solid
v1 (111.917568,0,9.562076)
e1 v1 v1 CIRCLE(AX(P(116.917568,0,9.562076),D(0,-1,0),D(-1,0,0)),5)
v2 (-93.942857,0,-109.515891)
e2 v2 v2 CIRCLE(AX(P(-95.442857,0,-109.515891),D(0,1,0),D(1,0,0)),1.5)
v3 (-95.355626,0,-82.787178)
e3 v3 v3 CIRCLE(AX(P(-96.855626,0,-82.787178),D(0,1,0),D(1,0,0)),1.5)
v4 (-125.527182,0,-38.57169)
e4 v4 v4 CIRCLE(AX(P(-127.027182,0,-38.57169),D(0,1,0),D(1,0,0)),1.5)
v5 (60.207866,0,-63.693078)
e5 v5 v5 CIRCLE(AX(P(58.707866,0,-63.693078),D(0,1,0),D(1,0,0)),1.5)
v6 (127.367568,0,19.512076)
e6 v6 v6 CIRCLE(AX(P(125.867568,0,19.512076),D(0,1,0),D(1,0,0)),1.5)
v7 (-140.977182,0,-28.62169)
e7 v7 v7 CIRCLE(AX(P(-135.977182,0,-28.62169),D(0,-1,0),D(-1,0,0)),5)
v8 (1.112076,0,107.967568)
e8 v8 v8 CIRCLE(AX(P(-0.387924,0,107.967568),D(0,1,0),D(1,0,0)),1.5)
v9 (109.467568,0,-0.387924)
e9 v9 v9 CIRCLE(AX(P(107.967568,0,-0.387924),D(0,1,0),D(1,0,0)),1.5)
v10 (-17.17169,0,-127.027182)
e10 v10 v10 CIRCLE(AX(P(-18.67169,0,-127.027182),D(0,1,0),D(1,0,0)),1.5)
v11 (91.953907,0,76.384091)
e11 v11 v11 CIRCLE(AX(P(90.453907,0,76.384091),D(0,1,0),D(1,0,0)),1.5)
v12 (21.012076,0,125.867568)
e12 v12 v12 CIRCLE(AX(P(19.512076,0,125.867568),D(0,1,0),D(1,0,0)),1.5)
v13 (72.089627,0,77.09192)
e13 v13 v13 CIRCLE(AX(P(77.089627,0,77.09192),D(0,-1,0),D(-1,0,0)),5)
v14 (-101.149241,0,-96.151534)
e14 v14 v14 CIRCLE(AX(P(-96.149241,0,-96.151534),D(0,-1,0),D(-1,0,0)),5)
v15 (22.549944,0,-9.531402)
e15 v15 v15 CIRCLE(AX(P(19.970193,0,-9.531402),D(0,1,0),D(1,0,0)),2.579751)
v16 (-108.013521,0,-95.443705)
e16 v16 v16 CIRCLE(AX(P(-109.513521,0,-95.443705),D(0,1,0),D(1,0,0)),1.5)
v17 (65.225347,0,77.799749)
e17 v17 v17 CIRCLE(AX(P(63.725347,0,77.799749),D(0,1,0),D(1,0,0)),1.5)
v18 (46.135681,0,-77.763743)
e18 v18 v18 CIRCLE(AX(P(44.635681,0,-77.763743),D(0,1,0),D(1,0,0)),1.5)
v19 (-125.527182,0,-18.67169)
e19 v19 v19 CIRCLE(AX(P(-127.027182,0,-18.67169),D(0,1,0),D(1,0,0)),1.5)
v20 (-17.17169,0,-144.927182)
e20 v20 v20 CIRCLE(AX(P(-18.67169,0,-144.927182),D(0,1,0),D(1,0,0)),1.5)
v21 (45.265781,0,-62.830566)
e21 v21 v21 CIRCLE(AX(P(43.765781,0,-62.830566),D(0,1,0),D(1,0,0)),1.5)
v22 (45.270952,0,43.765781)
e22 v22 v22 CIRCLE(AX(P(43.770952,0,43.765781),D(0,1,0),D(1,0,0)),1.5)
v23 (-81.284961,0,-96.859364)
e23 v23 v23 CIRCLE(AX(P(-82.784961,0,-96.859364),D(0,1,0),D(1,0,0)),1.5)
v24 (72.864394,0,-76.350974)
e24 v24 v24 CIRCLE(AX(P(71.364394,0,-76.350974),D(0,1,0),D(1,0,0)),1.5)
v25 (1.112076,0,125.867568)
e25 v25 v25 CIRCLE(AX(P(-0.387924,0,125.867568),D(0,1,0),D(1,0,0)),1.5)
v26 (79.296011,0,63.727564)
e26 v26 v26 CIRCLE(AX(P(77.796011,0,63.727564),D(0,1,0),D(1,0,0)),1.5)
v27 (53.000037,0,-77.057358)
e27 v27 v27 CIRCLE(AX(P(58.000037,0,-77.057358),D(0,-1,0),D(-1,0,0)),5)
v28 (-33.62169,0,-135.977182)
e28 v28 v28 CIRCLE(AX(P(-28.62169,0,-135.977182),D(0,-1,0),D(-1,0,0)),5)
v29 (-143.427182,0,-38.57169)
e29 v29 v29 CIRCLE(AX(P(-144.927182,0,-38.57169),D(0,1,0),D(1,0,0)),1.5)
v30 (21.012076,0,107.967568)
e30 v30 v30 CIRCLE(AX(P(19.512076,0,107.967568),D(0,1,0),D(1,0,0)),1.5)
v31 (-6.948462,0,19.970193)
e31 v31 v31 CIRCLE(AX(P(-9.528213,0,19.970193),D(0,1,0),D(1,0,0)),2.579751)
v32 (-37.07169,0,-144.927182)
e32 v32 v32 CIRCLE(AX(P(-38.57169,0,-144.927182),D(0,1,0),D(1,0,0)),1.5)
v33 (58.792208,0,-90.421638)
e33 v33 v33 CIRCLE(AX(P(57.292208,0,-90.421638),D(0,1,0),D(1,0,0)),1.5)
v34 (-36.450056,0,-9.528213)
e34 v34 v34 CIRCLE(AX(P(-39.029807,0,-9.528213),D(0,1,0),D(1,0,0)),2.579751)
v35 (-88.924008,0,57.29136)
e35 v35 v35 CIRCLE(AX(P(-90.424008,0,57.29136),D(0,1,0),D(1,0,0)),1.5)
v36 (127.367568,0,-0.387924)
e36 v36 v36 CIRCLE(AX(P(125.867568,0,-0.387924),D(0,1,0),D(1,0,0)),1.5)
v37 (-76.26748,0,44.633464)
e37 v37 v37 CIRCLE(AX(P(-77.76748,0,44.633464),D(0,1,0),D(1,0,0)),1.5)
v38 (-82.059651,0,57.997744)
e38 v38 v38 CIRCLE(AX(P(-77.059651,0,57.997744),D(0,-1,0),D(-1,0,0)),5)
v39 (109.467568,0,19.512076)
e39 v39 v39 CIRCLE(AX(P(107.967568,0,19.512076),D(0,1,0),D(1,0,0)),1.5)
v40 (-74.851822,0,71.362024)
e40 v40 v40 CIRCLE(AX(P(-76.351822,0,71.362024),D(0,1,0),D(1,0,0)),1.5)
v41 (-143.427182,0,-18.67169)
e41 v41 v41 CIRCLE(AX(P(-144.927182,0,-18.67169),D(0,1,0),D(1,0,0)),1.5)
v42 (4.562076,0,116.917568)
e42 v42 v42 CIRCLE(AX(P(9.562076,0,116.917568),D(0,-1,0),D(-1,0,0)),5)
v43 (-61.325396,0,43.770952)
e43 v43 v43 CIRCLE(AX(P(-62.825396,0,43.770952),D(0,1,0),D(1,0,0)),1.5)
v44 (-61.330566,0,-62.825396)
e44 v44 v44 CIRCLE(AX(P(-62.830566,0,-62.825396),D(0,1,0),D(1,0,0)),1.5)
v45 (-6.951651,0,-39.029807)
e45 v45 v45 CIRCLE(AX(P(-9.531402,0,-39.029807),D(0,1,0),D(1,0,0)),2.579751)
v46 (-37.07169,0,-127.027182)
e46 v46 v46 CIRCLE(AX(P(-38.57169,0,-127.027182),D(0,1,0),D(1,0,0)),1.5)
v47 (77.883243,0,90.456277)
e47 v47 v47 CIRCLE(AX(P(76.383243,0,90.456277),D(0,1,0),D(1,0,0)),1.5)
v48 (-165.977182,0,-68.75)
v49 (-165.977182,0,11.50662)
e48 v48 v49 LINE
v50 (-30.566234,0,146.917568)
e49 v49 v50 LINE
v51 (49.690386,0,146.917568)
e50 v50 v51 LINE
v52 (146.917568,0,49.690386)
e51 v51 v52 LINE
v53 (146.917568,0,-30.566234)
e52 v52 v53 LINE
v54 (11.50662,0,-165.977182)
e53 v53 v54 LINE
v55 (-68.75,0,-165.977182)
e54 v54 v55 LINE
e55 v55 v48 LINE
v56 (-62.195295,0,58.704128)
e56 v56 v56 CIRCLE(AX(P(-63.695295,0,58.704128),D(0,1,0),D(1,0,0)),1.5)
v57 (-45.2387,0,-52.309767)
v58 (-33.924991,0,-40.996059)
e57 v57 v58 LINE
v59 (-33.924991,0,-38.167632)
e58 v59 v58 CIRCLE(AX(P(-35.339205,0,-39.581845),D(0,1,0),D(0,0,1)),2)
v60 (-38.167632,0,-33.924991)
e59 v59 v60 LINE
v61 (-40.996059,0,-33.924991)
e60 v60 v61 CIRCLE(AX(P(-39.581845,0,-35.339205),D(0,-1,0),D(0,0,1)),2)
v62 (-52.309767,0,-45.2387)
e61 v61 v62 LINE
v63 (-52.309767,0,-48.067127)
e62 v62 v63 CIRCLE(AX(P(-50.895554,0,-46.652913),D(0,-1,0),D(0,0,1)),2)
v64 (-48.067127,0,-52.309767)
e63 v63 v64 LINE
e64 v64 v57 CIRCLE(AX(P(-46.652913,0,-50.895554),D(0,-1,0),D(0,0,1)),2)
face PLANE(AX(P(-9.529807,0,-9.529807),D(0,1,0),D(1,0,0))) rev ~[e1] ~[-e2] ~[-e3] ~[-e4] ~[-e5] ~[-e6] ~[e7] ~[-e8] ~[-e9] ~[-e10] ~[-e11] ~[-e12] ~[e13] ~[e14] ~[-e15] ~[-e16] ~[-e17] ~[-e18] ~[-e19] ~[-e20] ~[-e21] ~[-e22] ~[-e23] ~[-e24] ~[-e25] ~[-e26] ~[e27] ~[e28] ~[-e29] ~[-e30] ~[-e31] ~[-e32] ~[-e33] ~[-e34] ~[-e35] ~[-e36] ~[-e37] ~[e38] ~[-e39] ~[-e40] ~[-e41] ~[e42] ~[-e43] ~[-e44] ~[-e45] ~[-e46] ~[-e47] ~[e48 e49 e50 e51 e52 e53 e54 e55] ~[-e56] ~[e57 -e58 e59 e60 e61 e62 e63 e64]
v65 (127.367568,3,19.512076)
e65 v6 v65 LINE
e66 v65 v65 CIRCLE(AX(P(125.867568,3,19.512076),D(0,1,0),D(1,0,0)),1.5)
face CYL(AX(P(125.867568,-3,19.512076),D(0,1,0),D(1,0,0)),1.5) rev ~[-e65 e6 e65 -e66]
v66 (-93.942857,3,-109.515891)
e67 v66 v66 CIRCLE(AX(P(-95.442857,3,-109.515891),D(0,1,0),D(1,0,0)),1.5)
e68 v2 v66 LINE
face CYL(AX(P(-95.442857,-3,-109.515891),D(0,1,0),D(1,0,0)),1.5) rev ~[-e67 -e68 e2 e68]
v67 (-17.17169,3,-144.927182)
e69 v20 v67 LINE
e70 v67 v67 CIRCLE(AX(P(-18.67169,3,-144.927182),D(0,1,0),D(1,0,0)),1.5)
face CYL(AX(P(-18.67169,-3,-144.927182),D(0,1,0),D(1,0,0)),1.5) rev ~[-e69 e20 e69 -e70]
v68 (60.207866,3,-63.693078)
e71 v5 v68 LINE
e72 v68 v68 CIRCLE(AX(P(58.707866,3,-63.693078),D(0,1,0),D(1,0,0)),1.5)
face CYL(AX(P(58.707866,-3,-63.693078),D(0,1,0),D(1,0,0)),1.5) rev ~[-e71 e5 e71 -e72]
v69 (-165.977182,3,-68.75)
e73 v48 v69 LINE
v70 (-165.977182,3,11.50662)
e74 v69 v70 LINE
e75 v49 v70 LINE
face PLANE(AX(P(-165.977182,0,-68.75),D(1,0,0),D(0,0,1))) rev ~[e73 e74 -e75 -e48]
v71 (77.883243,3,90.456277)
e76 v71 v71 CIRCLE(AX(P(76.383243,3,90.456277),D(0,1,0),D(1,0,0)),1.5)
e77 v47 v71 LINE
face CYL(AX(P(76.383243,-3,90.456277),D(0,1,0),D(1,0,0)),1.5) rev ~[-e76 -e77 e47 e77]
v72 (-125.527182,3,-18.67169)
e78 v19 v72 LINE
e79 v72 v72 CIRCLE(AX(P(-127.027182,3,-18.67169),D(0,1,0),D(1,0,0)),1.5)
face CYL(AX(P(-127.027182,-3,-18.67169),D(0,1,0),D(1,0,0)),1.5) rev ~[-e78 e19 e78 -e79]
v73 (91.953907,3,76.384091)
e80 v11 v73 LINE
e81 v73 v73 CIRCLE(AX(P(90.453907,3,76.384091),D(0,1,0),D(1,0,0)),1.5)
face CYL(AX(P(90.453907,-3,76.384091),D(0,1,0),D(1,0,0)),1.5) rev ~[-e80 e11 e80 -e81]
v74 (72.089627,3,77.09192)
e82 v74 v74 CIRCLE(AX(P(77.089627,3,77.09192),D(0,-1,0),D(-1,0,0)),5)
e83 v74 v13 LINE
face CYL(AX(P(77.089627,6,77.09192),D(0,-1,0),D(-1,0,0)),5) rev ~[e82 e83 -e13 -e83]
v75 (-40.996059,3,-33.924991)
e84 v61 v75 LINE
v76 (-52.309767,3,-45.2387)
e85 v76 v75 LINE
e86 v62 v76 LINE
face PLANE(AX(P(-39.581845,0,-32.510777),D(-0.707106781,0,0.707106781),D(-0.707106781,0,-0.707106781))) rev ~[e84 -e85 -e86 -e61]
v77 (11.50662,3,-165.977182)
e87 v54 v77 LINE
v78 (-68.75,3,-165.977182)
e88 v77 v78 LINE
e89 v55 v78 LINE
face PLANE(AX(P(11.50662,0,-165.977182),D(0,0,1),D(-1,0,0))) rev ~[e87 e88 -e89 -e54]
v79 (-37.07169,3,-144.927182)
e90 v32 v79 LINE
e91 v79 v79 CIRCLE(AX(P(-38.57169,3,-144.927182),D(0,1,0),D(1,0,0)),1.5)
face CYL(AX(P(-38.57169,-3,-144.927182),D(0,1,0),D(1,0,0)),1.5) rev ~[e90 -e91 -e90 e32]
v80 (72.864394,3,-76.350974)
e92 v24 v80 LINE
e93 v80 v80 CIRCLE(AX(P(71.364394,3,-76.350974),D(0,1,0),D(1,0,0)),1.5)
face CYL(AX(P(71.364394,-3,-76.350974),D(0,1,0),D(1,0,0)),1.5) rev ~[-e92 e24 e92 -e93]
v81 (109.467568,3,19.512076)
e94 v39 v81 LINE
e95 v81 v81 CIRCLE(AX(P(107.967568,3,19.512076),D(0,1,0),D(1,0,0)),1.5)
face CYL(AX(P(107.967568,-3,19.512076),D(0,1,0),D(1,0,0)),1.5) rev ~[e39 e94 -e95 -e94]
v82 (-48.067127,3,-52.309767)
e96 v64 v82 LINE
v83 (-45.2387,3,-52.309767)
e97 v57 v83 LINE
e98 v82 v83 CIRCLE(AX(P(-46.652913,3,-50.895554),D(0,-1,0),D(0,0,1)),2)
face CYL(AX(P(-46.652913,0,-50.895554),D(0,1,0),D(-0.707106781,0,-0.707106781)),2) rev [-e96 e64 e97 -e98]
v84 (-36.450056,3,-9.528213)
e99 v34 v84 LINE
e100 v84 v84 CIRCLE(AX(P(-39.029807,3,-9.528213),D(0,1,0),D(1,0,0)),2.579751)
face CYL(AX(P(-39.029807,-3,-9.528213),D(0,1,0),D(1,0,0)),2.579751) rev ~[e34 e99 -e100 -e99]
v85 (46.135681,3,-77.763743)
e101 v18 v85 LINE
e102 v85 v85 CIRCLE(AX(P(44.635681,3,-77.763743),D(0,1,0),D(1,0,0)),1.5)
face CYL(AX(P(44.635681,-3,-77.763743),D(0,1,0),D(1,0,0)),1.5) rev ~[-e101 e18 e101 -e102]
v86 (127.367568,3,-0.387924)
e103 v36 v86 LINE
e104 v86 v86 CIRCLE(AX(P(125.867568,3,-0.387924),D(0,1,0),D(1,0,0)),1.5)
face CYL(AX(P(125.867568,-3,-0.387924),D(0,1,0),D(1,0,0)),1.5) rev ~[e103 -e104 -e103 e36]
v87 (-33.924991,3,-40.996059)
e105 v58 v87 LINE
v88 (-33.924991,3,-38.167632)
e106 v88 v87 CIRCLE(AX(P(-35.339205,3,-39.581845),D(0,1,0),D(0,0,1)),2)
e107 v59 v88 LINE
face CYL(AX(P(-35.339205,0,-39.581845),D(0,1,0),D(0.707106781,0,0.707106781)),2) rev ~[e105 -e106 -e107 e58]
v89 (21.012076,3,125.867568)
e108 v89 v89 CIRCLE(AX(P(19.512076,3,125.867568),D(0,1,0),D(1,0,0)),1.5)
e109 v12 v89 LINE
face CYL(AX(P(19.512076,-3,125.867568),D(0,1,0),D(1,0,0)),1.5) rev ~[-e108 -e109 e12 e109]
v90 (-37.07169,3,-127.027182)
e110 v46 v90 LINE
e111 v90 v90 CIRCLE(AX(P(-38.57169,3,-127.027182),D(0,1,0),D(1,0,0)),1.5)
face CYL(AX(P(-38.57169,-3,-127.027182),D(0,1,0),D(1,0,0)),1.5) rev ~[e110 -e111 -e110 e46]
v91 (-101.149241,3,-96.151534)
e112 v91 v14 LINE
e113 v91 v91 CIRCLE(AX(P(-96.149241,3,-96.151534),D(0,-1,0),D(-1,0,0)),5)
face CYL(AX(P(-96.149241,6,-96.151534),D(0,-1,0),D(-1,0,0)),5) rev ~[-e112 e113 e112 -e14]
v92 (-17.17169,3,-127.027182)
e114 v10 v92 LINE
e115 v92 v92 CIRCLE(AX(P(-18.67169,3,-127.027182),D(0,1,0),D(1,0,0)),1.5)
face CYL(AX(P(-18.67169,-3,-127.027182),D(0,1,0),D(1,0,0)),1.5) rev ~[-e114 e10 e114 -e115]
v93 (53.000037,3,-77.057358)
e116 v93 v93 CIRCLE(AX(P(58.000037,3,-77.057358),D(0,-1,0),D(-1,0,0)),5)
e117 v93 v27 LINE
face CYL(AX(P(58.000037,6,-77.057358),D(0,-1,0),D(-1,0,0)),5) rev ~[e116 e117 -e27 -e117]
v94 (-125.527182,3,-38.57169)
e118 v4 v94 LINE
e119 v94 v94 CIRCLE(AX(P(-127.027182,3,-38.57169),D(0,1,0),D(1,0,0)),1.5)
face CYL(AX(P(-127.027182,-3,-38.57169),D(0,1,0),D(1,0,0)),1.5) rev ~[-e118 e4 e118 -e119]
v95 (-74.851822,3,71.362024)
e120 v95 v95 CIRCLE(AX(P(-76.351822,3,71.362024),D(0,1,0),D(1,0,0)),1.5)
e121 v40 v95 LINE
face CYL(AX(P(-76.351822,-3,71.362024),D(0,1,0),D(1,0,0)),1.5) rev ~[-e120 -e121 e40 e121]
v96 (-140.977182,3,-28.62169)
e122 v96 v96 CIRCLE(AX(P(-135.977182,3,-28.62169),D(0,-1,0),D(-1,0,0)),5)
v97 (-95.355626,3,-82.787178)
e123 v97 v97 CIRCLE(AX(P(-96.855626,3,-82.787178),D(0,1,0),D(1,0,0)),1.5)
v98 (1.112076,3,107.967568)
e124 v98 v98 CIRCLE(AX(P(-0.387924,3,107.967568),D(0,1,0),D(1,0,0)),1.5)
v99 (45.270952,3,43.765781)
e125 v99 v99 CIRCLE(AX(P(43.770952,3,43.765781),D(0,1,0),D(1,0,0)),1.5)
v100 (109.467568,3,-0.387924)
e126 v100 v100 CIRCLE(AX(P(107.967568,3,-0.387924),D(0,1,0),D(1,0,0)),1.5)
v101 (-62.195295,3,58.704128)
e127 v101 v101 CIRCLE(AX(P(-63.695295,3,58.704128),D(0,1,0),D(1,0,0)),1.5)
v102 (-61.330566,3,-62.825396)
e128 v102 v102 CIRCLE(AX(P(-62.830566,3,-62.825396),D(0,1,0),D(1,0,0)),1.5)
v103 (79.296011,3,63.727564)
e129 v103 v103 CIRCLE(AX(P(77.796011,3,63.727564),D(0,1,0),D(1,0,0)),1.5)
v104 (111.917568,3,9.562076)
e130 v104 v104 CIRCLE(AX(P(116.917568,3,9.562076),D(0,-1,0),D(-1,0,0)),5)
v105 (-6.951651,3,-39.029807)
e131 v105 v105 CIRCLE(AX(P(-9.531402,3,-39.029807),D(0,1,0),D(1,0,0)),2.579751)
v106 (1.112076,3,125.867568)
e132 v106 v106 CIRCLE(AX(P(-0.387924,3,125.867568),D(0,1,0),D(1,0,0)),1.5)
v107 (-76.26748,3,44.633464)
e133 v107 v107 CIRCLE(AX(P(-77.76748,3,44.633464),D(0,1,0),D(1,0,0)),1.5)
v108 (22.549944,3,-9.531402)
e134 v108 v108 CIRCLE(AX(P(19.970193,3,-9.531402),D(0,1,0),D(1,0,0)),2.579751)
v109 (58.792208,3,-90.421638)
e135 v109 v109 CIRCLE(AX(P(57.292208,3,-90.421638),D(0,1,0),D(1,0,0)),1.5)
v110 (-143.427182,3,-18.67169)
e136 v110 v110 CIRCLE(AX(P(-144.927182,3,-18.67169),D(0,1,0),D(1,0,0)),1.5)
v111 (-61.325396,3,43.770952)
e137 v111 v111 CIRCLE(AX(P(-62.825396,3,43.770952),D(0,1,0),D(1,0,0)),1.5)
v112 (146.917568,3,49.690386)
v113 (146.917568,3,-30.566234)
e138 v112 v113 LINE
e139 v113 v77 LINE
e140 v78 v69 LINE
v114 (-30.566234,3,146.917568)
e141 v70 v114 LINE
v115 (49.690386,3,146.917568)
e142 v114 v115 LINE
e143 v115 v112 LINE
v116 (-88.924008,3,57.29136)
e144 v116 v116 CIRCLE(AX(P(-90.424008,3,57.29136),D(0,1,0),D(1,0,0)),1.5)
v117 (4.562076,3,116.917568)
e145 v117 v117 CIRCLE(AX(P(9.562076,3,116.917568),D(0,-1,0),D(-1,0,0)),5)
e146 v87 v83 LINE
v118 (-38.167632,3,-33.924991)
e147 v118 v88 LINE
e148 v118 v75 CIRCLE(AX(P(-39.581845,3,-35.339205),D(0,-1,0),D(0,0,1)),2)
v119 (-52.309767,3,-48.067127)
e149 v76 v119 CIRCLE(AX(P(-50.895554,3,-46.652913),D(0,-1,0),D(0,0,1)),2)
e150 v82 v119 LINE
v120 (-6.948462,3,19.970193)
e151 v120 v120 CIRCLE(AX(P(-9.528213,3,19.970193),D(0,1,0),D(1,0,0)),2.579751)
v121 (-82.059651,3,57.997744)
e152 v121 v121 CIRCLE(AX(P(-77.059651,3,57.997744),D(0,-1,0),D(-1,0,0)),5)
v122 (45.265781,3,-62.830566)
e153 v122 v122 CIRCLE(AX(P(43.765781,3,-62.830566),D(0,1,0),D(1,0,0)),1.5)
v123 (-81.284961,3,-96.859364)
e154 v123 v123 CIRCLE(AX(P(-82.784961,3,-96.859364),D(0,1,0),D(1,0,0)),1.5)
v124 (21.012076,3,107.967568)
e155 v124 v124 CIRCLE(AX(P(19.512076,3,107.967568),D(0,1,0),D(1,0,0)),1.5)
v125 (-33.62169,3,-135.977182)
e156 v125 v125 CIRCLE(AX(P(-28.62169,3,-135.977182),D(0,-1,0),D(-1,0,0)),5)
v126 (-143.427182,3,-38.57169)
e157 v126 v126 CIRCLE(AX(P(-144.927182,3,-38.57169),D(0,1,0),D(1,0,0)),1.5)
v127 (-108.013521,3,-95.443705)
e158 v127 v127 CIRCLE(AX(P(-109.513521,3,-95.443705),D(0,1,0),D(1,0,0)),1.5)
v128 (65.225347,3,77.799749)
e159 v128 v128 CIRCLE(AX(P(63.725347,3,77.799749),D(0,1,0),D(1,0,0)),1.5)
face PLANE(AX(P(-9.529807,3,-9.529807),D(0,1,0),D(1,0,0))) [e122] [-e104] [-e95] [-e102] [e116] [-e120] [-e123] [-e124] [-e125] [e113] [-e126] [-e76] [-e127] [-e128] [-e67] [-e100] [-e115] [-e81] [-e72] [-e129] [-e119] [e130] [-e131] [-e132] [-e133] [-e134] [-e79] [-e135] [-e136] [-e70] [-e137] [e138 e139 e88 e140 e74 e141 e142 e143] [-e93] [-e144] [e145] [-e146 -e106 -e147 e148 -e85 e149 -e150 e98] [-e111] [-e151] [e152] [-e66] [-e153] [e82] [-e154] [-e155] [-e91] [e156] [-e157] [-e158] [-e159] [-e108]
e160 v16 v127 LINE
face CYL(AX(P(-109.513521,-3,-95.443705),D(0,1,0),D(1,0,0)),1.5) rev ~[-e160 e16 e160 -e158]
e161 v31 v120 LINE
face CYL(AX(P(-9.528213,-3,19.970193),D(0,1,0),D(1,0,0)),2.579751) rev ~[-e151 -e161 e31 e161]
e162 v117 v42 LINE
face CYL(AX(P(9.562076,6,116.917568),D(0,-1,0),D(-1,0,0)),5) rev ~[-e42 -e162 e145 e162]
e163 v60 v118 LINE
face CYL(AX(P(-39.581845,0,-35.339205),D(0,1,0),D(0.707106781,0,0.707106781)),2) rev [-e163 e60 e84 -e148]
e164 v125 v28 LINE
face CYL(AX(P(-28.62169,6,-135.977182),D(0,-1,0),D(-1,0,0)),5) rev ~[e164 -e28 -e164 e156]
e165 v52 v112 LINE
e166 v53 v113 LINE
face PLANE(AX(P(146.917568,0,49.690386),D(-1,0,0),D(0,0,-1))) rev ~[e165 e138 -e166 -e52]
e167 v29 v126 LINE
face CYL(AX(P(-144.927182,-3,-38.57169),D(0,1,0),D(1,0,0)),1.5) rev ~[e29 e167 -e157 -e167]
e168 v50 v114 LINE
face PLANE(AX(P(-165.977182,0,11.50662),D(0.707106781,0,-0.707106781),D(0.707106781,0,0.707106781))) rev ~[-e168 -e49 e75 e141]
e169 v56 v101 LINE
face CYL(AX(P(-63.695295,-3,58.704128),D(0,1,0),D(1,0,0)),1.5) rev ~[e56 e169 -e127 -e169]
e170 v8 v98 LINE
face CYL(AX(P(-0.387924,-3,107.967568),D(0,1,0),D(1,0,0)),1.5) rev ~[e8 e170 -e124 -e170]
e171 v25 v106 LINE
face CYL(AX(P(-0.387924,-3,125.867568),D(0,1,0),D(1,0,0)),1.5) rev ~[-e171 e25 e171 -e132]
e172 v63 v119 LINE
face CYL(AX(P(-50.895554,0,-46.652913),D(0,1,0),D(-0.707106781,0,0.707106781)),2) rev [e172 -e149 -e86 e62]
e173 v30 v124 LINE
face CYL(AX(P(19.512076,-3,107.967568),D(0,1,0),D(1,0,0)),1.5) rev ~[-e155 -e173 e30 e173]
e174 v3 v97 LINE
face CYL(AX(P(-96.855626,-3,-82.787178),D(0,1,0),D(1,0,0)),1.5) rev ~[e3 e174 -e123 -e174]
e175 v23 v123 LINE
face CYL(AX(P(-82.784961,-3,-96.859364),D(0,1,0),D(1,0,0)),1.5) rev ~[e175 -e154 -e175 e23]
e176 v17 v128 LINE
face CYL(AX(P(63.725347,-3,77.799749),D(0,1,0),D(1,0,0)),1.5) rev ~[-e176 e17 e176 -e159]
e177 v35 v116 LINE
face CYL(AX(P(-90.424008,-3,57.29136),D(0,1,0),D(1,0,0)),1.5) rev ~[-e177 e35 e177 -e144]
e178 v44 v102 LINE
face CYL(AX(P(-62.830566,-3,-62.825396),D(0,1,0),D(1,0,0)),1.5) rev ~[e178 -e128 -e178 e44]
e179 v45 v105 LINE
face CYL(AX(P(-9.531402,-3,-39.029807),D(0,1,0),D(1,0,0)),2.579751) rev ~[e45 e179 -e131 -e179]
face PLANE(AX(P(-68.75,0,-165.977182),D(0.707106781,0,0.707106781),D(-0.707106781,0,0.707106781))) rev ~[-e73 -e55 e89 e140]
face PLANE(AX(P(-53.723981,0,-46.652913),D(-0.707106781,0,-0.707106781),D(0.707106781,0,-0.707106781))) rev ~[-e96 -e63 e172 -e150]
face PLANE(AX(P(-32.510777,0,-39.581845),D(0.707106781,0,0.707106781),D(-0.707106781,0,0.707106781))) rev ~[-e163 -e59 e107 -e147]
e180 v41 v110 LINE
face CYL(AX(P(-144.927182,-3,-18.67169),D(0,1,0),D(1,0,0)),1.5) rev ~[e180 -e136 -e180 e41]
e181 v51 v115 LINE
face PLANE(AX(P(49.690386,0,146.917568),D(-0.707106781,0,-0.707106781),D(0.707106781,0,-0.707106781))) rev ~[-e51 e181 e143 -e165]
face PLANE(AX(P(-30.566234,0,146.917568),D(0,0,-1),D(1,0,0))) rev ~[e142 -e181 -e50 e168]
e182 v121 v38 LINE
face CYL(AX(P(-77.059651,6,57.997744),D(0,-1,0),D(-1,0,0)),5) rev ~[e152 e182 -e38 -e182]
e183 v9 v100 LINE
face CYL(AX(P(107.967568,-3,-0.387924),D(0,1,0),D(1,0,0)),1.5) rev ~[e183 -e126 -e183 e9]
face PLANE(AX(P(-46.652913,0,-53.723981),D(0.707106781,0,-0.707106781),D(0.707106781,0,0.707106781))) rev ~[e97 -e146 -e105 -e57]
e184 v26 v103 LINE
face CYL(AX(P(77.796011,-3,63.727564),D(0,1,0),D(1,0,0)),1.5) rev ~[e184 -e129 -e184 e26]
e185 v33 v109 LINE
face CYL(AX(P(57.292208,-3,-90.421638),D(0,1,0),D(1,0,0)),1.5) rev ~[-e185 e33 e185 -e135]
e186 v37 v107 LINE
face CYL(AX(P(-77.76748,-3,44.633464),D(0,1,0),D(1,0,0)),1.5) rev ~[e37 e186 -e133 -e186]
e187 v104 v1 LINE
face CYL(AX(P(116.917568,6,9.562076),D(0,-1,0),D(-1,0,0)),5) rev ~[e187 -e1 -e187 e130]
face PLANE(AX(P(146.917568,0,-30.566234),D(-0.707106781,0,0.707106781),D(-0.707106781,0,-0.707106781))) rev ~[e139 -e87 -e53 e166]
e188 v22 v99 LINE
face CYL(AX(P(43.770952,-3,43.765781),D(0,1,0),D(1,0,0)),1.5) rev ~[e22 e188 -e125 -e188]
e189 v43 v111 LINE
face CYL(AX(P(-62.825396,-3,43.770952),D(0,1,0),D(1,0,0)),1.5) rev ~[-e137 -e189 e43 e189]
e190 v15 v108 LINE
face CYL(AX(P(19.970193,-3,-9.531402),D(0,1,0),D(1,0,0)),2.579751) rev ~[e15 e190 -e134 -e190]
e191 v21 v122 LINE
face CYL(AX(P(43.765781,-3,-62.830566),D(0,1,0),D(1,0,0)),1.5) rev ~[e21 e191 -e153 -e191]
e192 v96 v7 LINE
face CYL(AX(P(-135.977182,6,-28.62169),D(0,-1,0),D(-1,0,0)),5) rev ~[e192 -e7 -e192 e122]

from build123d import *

# Parameters (mm, degrees)
BOSS_EXTRUDE2_DEPTH                  = 3
F_13_64_0_20313_DIAMETER_HOLE1_D     = 5.159502
F_13_64_0_20313_DIAMETER_HOLE1_DEPTH = 3
CUT_EXTRUDE1_DEPTH                   = 4
FILLET2_R                            = 2
FILLET3_R                            = 2
FILLET4_R                            = 2
FILLET5_R                            = 2
F_3_0MM_DOWEL_HOLE1_D                = 3
F_3_0MM_DOWEL_HOLE1_DEPTH            = 3
F_10_0MM_DOWEL_HOLE1_D               = 10
F_10_0MM_DOWEL_HOLE1_DEPTH           = 3
F_10_0MM_DOWEL_HOLE2_D               = 10
F_10_0MM_DOWEL_HOLE2_DEPTH           = 3
F_3_0MM_DOWEL_HOLE2_D                = 3
F_3_0MM_DOWEL_HOLE2_DEPTH            = 3


with BuildPart() as part:
    # Sketch3 → Boss-Extrude2 (new body)
    with BuildSketch(Plane(origin=(0, 0, 0), x_dir=(1, 0, 0), z_dir=(0, 1, 0))):
        Polygon((146.917568262, 30.566233816), (11.506619665, 165.977182413), (-68.75, 165.977182413), (-165.977182413, 68.75), (-165.977182413, -11.506619665), (-30.566233816, -146.917568262), (49.690385849, -146.917568262), (146.917568262, -49.690385849), align=None)
    extrude(amount=BOSS_EXTRUDE2_DEPTH)

    # 13/64 (0.20313) Diameter Hole1
    with Locations(Plane(origin=(0, 0, 0), x_dir=(-1, 0, 0), z_dir=(0, -1, 0))):
        with Locations((39.029807033, 9.528212544), (9.528212544, -19.970192881), (-19.970192881, 9.531401607), (9.531401607, 39.029807033)):
            Hole(F_13_64_0_20313_DIAMETER_HOLE1_D / 2, depth=F_13_64_0_20313_DIAMETER_HOLE1_DEPTH)

    # Sketch12 → Cut-Extrude1 (cut, through all)
    with BuildSketch(Plane.XZ):
        Polygon((-36.04631137, -36.04631137), (-39.581845276, -32.510777464), (-53.7239809, -46.652913088), (-46.652913088, -53.7239809), (-32.510777464, -39.581845276), align=None)
    extrude(amount=-CUT_EXTRUDE1_DEPTH, mode=Mode.SUBTRACT)

    # Fillet2
    fillet2_edges = [part.edges().sort_by_distance(p)[0] for p in [
        (-39.581845276, 1.5, -32.510777464),
    ]]
    fillet(fillet2_edges, radius=FILLET2_R)

    # Fillet3
    fillet3_edges = [part.edges().sort_by_distance(p)[0] for p in [
        (-32.510777464, 1.5, -39.581845276),
    ]]
    fillet(fillet3_edges, radius=FILLET3_R)

    # Fillet4
    fillet4_edges = [part.edges().sort_by_distance(p)[0] for p in [
        (-53.7239809, 1.5, -46.652913088),
    ]]
    fillet(fillet4_edges, radius=FILLET4_R)

    # Fillet5
    fillet5_edges = [part.edges().sort_by_distance(p)[0] for p in [
        (-46.652913088, 1.5, -53.7239809),
    ]]
    fillet(fillet5_edges, radius=FILLET5_R)

    # Ø3.0mm Dowel Hole1
    with Locations(Plane(origin=(0, 0, 0), x_dir=(-1, 0, 0), z_dir=(0, -1, 0))):
        with Locations((-76.383242623, -90.45627663), (-90.453906961, -76.384091118), (-77.79601145, -63.7275639), (-63.725347112, -77.799749412), (-19.512076016, -125.867568262), (-19.512076016, -107.967568262), (0.387923984, -125.867568262), (0.387923984, -107.967568262), (63.695294959, -58.704128358), (76.351822177, -71.362023869), (90.42400769, -57.291359531), (77.767480471, -44.63346402), (144.927182413, 38.571690168), (127.027182413, 38.571690168), (127.027182413, 18.671690168), (144.927182413, 18.671690168), (96.855625588, 82.78717805), (82.784961264, 96.859363576), (95.442856787, 109.515890782), (109.513521111, 95.443705257), (18.671690168, 144.927182413), (18.671690168, 127.027182413), (38.571690168, 127.027182413), (38.571690168, 144.927182413), (-58.70786632, 63.693078171), (-71.364393538, 76.350973682), (-44.635680808, 77.763742509), (-57.292208026, 90.42163802), (-125.867568262, -19.512076016), (-107.967568262, -19.512076016), (-107.967568262, 0.387923984), (-125.867568262, 0.387923984)):
            Hole(F_3_0MM_DOWEL_HOLE1_D / 2, depth=F_3_0MM_DOWEL_HOLE1_DEPTH)

    # Ø10.0mm Dowel Hole1
    with Locations(Plane(origin=(0, 3, 0), x_dir=(1, 0, 0), z_dir=(0, 1, 0))):
        with Locations((-135.977182413, 28.621690168), (-96.149241188, 96.151534416), (-28.621690168, 135.977182413), (58.000037173, 77.057358096), (116.917568262, -9.562076016)):
            Hole(F_10_0MM_DOWEL_HOLE1_D / 2, depth=F_10_0MM_DOWEL_HOLE1_DEPTH)

    # Ø10.0mm Dowel Hole2
    with Locations(Plane(origin=(0, 3, 0), x_dir=(1, 0, 0), z_dir=(0, 1, 0))):
        with Locations((9.562076016, -116.917568262), (77.089627036, -77.091920265), (-77.059651324, -57.997743944)):
            Hole(F_10_0MM_DOWEL_HOLE2_D / 2, depth=F_10_0MM_DOWEL_HOLE2_DEPTH)

    # Ø3.0mm Dowel Hole2
    with Locations(Plane(origin=(0, 0, 0), x_dir=(-1, 0, 0), z_dir=(0, -1, 0))):
        with Locations((62.825395525, -43.770951614), (-43.770951614, -43.765781374), (62.830565765, 62.825395525), (-43.765781374, 62.830565765)):
            Hole(F_3_0MM_DOWEL_HOLE2_D / 2, depth=F_3_0MM_DOWEL_HOLE2_DEPTH)


solid = part.part
